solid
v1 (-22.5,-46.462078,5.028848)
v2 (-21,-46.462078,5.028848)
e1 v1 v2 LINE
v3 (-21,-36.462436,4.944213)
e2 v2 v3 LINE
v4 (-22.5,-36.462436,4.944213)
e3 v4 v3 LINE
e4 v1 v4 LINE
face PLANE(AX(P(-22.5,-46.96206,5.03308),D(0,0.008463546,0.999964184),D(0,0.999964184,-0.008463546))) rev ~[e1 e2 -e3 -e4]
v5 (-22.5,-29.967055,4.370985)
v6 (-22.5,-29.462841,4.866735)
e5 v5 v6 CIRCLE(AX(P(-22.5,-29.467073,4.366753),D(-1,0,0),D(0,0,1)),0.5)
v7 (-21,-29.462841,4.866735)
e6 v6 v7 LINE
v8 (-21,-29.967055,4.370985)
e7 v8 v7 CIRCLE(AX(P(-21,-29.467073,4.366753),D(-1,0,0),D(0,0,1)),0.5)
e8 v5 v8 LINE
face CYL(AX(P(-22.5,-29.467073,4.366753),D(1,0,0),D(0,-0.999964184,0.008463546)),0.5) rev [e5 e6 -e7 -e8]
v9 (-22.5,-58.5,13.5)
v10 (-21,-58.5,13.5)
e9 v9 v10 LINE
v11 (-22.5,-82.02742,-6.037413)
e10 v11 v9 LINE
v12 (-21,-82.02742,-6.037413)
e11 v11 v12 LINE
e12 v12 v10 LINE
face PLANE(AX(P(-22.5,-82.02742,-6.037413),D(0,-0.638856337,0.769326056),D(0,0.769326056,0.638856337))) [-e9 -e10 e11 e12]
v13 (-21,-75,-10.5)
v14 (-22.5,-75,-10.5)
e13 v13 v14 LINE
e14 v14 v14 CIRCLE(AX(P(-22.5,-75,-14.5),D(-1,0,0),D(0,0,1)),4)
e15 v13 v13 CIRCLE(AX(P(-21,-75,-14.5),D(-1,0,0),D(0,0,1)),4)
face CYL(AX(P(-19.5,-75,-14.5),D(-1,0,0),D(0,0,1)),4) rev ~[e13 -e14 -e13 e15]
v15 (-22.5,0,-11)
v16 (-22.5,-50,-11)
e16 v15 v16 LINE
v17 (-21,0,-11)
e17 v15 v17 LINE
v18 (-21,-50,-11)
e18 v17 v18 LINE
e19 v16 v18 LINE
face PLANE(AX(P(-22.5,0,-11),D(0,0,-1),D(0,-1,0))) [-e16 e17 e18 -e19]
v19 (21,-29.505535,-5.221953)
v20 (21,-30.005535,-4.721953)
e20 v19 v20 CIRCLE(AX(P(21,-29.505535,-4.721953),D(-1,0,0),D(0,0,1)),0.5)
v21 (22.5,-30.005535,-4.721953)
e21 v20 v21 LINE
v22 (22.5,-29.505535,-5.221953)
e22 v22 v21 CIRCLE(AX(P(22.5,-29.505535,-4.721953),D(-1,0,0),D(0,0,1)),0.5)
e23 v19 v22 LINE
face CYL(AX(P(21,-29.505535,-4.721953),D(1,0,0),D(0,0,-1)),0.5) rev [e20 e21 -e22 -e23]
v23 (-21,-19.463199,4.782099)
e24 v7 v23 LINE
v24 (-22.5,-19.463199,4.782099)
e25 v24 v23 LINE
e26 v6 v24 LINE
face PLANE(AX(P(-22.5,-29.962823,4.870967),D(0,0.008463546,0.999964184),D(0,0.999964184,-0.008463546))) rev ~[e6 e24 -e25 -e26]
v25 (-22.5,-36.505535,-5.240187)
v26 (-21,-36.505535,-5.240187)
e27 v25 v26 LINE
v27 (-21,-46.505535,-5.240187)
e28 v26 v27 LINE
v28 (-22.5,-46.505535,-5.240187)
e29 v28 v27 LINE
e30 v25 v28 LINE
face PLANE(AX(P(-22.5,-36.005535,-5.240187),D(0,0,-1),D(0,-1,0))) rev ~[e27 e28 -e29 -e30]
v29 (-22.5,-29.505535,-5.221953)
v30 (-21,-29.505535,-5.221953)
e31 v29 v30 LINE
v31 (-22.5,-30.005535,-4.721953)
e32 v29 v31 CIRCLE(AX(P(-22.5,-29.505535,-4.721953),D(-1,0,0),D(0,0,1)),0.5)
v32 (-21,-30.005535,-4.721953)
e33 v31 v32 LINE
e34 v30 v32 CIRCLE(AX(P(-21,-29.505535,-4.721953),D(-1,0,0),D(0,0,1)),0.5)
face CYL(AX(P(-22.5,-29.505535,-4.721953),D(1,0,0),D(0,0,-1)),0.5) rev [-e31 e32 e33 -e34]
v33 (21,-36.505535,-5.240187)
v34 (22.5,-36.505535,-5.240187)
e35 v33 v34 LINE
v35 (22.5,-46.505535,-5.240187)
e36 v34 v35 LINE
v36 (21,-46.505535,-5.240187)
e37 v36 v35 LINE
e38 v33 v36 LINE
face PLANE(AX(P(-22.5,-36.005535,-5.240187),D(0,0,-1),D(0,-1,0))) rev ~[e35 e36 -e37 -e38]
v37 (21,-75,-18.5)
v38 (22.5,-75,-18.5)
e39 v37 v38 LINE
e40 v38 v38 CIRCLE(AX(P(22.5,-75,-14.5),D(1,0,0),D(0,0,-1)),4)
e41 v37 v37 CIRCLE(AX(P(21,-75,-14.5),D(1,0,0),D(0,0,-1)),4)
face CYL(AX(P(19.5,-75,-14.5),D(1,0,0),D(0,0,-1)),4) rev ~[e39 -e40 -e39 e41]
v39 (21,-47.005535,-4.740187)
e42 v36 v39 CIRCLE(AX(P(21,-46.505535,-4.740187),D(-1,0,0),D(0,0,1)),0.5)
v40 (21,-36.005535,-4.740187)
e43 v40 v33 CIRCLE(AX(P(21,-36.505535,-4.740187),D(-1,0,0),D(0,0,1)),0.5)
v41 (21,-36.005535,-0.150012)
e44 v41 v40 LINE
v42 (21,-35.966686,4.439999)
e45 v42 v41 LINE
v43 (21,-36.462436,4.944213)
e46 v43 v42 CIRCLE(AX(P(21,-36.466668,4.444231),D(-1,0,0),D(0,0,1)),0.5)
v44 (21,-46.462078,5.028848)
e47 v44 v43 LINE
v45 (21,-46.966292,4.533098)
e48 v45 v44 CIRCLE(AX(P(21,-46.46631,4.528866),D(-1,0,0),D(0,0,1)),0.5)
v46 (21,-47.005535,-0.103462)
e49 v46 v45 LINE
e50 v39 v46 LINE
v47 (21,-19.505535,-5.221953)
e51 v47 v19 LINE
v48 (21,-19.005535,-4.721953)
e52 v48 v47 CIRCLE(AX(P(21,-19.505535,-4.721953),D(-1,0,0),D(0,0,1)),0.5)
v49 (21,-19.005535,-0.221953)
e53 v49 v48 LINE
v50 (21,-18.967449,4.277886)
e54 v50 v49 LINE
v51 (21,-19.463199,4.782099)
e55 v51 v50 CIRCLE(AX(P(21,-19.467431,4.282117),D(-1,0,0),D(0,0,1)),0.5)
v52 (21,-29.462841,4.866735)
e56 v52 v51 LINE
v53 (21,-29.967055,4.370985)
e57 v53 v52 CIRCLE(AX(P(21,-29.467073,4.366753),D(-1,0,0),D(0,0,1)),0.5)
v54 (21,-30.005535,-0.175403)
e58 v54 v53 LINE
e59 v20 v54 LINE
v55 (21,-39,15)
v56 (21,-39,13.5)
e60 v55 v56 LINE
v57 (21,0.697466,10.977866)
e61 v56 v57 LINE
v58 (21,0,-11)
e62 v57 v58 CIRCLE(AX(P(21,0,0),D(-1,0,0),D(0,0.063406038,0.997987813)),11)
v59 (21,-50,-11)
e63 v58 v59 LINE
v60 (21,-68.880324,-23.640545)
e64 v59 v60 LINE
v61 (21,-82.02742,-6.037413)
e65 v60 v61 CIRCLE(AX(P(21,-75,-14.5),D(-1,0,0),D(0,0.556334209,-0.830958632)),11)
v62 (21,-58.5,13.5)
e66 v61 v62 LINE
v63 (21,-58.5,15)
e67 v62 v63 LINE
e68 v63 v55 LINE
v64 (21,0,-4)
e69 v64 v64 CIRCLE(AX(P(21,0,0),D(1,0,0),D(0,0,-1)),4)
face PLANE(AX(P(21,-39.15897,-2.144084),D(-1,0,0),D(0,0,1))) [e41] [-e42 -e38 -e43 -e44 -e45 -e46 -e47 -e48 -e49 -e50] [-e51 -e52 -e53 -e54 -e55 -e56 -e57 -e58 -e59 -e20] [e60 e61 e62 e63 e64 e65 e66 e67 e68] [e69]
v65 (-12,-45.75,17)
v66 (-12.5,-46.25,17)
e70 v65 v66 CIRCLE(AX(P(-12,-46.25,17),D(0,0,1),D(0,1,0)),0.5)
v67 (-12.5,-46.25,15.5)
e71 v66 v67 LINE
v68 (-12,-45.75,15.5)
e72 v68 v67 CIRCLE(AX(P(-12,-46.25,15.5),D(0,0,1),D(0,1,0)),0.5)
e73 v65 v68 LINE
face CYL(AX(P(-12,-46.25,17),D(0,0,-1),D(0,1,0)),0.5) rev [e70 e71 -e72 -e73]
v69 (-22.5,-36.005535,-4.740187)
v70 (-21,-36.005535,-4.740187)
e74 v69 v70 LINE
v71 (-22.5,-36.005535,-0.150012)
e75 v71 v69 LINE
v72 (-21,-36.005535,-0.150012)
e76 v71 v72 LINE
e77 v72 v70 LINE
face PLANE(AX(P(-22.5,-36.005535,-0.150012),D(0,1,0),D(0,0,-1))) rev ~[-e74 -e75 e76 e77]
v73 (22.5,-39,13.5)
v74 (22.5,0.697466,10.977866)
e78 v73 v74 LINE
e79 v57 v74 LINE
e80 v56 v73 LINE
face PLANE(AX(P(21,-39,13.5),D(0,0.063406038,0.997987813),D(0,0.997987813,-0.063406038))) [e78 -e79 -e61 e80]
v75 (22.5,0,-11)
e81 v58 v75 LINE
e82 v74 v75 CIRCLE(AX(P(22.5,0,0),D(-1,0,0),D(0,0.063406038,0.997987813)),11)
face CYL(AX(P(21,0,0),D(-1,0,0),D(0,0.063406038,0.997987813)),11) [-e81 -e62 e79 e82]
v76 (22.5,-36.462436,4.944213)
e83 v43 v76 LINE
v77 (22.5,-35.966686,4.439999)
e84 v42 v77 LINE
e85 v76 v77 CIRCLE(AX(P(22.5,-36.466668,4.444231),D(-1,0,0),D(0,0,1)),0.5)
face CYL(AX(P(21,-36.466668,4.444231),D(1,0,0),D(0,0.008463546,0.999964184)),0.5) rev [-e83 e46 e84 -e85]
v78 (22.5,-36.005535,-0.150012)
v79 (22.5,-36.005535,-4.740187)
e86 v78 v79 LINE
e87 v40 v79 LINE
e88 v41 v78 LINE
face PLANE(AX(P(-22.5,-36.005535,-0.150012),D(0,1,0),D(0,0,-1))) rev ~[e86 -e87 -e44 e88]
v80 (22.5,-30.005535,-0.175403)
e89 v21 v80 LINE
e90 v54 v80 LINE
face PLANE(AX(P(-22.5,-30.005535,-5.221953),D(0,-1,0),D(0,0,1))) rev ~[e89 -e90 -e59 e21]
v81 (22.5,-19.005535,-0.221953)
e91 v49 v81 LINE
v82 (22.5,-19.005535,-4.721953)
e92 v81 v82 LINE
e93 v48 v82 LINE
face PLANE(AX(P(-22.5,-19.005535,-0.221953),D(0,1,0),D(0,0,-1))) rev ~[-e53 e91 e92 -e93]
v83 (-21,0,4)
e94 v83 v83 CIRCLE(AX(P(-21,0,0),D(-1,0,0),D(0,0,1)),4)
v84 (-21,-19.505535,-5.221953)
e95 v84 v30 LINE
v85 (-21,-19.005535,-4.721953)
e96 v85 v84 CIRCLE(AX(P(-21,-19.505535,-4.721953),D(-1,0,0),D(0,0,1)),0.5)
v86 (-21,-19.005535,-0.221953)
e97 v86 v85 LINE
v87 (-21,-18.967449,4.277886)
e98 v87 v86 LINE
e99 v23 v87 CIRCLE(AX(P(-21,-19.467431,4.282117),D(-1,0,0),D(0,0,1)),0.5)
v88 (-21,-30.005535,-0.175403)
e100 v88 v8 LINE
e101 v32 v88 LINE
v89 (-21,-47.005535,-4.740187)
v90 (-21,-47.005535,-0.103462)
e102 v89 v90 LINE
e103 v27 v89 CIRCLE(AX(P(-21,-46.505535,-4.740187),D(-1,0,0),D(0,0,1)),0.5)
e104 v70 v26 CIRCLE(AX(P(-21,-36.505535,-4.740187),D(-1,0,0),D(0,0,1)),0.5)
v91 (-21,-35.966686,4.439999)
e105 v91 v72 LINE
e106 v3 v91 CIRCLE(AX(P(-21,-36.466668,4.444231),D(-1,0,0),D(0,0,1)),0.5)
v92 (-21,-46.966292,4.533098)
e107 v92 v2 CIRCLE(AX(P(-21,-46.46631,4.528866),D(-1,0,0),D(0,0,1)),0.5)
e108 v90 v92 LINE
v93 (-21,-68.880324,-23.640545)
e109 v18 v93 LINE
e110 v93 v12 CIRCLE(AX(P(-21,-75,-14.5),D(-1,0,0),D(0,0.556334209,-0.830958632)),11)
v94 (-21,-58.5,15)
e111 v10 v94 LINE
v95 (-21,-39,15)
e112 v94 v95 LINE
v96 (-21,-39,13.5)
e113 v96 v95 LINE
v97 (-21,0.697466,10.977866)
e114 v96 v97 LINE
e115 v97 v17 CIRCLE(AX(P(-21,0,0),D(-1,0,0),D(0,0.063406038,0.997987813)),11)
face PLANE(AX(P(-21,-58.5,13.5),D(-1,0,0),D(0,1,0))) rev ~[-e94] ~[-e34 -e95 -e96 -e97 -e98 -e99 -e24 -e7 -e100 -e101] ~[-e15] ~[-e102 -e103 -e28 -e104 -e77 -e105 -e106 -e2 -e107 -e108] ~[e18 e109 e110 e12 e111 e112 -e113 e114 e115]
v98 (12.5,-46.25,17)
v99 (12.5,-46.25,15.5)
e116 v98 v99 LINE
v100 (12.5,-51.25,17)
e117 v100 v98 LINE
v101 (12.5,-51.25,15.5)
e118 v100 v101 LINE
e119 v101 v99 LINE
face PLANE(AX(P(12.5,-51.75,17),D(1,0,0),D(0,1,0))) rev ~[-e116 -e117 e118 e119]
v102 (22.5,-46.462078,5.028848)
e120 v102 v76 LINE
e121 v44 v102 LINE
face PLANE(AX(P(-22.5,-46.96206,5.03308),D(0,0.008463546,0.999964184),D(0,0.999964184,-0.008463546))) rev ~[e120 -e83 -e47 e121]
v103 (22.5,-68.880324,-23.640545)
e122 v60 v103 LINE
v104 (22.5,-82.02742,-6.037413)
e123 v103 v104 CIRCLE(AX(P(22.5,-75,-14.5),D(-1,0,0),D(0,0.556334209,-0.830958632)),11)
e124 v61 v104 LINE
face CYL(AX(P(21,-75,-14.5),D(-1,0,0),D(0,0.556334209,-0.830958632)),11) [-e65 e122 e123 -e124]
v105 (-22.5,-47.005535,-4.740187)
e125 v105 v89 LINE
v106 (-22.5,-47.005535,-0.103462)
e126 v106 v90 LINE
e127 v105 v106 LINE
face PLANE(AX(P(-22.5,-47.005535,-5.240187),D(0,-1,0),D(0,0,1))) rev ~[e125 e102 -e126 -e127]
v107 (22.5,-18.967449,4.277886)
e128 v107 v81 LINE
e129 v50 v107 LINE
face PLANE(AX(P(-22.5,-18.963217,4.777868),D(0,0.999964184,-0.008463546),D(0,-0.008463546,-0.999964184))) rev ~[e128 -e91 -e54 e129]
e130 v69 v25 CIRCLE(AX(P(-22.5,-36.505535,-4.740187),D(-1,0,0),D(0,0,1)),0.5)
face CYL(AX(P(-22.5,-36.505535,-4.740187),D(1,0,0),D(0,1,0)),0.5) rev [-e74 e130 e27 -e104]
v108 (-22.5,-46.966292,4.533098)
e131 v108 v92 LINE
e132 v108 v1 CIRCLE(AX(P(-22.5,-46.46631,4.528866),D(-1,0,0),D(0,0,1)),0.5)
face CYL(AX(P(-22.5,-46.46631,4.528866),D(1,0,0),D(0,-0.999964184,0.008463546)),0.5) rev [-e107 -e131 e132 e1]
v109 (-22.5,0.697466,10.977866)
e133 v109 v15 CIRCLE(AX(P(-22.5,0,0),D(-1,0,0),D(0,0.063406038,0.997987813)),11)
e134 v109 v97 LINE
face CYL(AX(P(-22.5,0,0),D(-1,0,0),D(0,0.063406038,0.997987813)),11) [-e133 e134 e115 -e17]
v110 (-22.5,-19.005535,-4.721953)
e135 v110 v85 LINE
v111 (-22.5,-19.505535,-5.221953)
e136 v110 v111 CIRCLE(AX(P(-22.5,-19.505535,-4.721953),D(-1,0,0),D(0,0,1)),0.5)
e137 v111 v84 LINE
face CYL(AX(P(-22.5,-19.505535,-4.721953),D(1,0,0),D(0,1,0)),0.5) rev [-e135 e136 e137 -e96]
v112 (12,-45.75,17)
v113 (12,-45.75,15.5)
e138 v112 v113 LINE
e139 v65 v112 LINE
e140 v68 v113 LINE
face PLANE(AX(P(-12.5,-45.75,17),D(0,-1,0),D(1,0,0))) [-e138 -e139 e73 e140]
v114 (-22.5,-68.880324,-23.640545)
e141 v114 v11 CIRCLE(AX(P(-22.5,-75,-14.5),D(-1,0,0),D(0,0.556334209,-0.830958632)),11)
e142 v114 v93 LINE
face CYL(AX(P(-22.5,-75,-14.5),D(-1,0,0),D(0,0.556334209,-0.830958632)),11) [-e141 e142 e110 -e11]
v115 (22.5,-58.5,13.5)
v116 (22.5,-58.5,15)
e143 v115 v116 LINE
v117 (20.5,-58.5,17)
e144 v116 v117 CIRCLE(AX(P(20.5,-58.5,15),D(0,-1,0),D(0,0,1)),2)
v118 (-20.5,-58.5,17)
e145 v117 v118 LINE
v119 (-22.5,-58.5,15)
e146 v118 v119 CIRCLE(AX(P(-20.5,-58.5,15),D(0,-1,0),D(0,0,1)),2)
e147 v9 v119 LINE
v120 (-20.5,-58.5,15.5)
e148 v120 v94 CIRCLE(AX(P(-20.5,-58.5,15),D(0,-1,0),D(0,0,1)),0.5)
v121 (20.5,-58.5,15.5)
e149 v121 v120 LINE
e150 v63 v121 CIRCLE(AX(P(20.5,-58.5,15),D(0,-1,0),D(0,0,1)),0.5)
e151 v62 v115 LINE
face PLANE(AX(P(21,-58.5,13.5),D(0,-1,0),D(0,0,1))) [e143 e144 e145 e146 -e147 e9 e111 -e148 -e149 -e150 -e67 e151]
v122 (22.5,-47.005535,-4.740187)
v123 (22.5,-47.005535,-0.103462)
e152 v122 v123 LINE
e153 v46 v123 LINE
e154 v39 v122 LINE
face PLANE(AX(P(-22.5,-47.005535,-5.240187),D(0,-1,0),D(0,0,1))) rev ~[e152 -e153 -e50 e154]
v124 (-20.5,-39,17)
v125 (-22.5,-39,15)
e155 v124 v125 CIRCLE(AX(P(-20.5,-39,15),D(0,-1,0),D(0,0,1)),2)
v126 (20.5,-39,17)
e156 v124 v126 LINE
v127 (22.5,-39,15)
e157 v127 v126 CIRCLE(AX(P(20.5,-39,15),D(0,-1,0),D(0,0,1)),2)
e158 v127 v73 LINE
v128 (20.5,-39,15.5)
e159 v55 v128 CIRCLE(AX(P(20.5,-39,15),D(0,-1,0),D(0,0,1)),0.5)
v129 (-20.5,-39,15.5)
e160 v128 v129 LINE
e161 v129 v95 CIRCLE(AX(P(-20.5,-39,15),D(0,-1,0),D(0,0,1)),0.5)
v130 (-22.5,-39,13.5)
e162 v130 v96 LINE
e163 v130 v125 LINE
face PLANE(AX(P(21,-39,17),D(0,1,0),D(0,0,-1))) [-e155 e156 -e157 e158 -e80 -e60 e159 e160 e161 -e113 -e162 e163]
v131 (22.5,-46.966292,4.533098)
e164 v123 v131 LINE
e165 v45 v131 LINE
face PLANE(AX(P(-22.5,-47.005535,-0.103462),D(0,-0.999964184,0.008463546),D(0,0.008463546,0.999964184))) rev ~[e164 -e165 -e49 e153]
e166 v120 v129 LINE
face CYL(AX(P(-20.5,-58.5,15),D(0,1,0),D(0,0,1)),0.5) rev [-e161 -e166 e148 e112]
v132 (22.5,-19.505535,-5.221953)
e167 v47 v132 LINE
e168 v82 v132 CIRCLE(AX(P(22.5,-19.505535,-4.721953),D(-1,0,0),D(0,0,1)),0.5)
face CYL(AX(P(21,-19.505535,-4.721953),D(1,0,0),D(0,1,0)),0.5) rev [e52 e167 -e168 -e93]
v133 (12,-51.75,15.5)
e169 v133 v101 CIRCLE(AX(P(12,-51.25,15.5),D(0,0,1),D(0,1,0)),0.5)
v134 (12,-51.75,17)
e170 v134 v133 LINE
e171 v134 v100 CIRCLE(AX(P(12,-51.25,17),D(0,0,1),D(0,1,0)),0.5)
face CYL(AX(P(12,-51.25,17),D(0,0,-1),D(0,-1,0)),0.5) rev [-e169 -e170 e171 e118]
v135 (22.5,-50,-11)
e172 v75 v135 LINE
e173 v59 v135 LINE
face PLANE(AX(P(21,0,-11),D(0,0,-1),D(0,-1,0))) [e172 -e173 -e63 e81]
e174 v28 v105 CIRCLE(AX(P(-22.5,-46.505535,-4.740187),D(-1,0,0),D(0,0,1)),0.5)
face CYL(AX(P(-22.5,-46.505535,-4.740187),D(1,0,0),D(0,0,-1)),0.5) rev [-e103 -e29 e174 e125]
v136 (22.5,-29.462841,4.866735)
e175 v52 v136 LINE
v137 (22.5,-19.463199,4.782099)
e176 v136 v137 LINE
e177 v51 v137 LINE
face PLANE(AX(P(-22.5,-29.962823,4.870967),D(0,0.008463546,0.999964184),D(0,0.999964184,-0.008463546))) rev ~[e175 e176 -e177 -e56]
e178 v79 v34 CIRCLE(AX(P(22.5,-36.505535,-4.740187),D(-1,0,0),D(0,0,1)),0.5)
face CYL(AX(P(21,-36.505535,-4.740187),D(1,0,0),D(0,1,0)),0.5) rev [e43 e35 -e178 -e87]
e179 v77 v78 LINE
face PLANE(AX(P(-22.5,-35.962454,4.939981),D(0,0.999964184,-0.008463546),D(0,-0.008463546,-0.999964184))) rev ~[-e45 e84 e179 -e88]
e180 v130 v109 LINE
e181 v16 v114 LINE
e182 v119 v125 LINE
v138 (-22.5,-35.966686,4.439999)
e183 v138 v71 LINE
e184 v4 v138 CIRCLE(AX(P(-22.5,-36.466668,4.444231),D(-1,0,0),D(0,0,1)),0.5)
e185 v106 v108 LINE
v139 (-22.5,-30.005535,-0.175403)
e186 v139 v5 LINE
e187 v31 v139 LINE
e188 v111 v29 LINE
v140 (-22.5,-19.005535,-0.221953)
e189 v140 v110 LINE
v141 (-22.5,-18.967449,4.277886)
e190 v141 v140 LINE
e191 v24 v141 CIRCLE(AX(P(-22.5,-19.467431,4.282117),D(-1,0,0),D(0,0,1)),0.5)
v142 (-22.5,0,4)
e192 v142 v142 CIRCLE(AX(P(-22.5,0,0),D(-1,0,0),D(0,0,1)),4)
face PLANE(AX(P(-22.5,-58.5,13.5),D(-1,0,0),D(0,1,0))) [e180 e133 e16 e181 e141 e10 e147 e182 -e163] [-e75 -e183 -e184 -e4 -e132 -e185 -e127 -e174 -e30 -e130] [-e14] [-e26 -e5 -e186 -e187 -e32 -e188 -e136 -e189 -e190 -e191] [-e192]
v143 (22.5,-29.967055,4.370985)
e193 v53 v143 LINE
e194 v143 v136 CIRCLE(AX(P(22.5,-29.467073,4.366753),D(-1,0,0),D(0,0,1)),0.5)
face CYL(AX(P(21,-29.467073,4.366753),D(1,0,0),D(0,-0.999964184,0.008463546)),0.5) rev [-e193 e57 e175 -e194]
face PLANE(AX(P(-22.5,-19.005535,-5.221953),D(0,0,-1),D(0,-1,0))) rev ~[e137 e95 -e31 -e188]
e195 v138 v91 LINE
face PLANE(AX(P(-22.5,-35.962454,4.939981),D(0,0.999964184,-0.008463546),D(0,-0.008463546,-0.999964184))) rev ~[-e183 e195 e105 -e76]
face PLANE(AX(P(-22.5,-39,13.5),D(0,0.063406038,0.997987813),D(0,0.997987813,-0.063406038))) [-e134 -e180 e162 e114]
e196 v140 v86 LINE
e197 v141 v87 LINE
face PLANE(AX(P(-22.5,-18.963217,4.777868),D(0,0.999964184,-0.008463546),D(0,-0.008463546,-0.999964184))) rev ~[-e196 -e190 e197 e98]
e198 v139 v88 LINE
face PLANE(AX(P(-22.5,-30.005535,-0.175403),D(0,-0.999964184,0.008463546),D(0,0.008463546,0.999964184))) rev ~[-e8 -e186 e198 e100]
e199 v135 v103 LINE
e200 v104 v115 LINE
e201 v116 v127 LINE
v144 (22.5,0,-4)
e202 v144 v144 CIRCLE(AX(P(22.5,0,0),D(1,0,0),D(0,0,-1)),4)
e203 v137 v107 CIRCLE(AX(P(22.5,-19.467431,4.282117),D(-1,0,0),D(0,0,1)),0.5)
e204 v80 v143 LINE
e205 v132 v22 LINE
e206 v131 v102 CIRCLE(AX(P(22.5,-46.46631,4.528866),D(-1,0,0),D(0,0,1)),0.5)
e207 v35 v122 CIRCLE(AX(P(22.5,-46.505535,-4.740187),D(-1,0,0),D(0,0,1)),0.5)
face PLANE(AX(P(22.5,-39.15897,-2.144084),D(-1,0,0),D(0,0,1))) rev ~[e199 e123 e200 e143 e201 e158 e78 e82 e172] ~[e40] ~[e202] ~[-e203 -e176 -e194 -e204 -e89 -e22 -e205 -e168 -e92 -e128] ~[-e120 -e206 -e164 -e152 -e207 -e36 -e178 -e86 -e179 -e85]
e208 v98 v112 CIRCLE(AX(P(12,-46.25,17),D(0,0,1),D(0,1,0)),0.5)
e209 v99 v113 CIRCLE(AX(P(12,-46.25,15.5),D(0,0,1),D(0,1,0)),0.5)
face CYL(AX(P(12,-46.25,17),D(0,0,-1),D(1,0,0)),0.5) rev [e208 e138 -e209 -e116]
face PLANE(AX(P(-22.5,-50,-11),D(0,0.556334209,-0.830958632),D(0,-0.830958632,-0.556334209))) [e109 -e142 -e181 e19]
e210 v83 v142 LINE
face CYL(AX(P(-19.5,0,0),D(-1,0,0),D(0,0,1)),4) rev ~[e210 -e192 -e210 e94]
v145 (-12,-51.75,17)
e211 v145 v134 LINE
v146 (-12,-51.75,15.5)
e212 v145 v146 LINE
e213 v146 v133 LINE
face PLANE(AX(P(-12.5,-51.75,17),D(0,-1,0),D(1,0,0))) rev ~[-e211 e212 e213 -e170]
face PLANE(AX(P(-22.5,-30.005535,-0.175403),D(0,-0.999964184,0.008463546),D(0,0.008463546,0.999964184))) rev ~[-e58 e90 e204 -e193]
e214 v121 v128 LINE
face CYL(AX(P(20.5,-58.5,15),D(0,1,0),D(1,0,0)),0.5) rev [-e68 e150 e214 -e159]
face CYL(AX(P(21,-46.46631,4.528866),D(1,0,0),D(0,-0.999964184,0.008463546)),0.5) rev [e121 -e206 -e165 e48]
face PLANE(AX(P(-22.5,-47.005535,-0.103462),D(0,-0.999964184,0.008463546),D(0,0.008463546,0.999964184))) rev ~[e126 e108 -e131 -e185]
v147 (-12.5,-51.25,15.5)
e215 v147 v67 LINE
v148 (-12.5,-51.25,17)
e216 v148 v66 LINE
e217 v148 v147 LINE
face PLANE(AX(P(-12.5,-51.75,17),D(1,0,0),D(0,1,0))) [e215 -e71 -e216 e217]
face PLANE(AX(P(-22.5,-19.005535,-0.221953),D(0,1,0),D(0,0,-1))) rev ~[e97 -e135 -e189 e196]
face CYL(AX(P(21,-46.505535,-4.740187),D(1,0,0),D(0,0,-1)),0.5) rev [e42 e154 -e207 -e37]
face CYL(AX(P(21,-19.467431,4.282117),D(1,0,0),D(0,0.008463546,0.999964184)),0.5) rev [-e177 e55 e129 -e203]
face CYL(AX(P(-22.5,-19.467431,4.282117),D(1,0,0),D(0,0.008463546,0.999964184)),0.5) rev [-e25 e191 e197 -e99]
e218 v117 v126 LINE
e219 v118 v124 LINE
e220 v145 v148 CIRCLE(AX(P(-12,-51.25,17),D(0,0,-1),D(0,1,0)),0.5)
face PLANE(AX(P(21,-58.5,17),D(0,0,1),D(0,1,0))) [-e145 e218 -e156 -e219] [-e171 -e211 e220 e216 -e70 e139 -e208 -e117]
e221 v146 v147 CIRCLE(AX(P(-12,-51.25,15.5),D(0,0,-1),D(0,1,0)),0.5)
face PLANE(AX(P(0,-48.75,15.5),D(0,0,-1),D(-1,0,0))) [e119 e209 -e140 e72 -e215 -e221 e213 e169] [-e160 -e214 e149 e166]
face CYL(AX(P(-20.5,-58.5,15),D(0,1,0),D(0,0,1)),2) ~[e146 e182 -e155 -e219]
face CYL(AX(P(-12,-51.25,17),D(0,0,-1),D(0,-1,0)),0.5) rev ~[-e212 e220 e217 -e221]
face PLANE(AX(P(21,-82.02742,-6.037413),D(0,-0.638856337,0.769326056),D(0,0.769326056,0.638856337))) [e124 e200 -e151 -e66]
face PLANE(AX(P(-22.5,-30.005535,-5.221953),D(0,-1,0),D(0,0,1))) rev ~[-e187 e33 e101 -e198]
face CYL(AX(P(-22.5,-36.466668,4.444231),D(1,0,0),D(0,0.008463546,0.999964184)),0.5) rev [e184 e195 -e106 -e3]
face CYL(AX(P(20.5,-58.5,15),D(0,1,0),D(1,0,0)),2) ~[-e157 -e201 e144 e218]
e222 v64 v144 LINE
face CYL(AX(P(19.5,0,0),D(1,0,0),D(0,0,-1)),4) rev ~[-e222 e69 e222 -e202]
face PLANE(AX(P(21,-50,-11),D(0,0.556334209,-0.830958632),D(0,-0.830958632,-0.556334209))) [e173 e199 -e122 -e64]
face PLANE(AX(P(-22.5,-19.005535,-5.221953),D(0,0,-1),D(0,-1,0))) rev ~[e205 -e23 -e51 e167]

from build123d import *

# Parameters (mm, degrees)
BOSS_EXTRUDE1_DEPTH          = 1.5
SKETCH2_W                    = 43.5
SKETCH2_H                    = 19.5
BOSS_EXTRUDE2_DEPTH          = 3.5
SKETCH3_W                    = 42
SKETCH3_H                    = 19.5
CUT_EXTRUDE1_DEPTH           = 2
BOSS_EXTRUDE3_DEPTH          = 1.5
F_8_0_8_DIAMETER_HOLE1_D     = 8
F_8_0_8_DIAMETER_HOLE1_DEPTH = 1.5
F_8_0_8_DIAMETER_HOLE2_D     = 8
F_8_0_8_DIAMETER_HOLE2_DEPTH = 1.5
FILLET1_R                    = 0.5
FILLET2_R                    = 2
SKETCH9_W                    = 25
SKETCH9_H                    = 6
CUT_EXTRUDE2_DEPTH           = 1.5
FILLET3_R                    = 0.5
CUT_EXTRUDE3_DEPTH           = 45
FILLET4_R                    = 0.5


with BuildPart() as part:
    # Sketch1 → Boss-Extrude1 (new body)
    with BuildSketch(Plane(origin=(-22.5, 0, 0), x_dir=(0, -1, 0), z_dir=(-1, 0, 0))):
        with BuildLine():
            Line((82.02741971, -6.037413385), (58.5, 13.5))
            Line((58.5, 13.5), (39, 13.5))
            Line((39, 13.5), (-0.697466415, 10.97786594))
            ThreePointArc((-0.697466415, 10.97786594), (-10.994465093, -0.348908769), (0, -11))
            Line((0, -11), (50, -11))
            Line((50, -11), (68.880323706, -23.640544954))
            ThreePointArc((68.880323706, -23.640544954), (83.813260452, -21.082282295), (82.02741971, -6.037413385))
        make_face()
    extrude(amount=-BOSS_EXTRUDE1_DEPTH)

    # Sketch2 → Boss-Extrude2 (add)
    with BuildSketch(Plane.XY.offset(13.5)):
        with Locations((-0.75, -48.75)):
            Rectangle(SKETCH2_W, SKETCH2_H)
    extrude(amount=BOSS_EXTRUDE2_DEPTH)

    # Sketch3 → Cut-Extrude1 (cut)
    with BuildSketch(Plane(origin=(0, 0, 13.5), x_dir=(-1, 0, 0), z_dir=(0, 0, -1))):
        with Locations((0, -48.75)):
            Rectangle(SKETCH3_W, SKETCH3_H)
    extrude(amount=-CUT_EXTRUDE1_DEPTH, mode=Mode.SUBTRACT)

    # Sketch4 → Boss-Extrude3 (add)
    with BuildSketch(Plane(origin=(21, 0, 0), x_dir=(0, 0, -1), z_dir=(1, 0, 0))):
        with BuildLine():
            Line((11, 0), (11, -50))
            Line((11, -50), (23.640544954, -68.880323706))
            ThreePointArc((23.640544954, -68.880323706), (21.082282295, -83.813260452), (6.037413385, -82.02741971))
            Line((6.037413385, -82.02741971), (-13.5, -58.5))
            Line((-13.5, -58.5), (-17, -58.5))
            Line((-17, -58.5), (-17, -39))
            Line((-17, -39), (-13.5, -39))
            Line((-13.5, -39), (-10.97786594, 0.697466415))
            ThreePointArc((-10.97786594, 0.697466415), (0.348908769, 10.994465093), (11, 0))
        make_face()
    extrude(amount=BOSS_EXTRUDE3_DEPTH)

    # Ø8.0 (8) Diameter Hole1
    with Locations(Plane.ZY.offset(-21)):
        with Locations((-14.5, -75), (0, 0)):
            Hole(F_8_0_8_DIAMETER_HOLE1_D / 2, depth=F_8_0_8_DIAMETER_HOLE1_DEPTH)

    # Ø8.0 (8) Diameter Hole2
    with Locations(Plane(origin=(-21, 0, 0), x_dir=(0, 0, -1), z_dir=(1, 0, 0))):
        with Locations((14.5, -75), (0, 0)):
            Hole(F_8_0_8_DIAMETER_HOLE2_D / 2, depth=F_8_0_8_DIAMETER_HOLE2_DEPTH)

    # Fillet1
    fillet1_edges = [part.edges().sort_by_distance(p)[0] for p in [
        (21, -48.75, 15.5),
        (-21, -48.75, 15.5),
    ]]
    fillet(fillet1_edges, radius=FILLET1_R)

    # Fillet2
    fillet2_edges = [part.edges().sort_by_distance(p)[0] for p in [
        (-22.5, -48.75, 17),
        (22.5, -48.75, 17),
    ]]
    fillet(fillet2_edges, radius=FILLET2_R)

    # Sketch9 → Cut-Extrude2 (cut)
    with BuildSketch(Plane.XY.offset(17)):
        with Locations((0, -48.75)):
            Rectangle(SKETCH9_W, SKETCH9_H)
    extrude(amount=-CUT_EXTRUDE2_DEPTH, mode=Mode.SUBTRACT)

    # Fillet3
    fillet3_edges = [part.edges().sort_by_distance(p)[0] for p in [
        (12.5, -51.75, 16.25),
        (-12.5, -51.75, 16.25),
        (-12.5, -45.75, 16.25),
        (12.5, -45.75, 16.25),
    ]]
    fillet(fillet3_edges, radius=FILLET3_R)

    # Sketch11 → Cut-Extrude3 (cut)
    with BuildSketch(Plane.ZY.offset(22.5)):
        Polygon((-0.103461549, -47.005534907), (5.033080081, -46.962059996), (4.939981079, -35.962453976), (-0.150011884, -36.005534907), (-5.240187158, -36.005534907), (-5.240187158, -47.005534907), align=None)
        Polygon((-0.22195331, -19.005534907), (-5.22195331, -19.005534907), (-5.22195331, -30.005534907), (-0.175402975, -30.005534907), (4.87096661, -29.962823198), (4.777867607, -18.963217179), align=None)
    extrude(amount=-CUT_EXTRUDE3_DEPTH, mode=Mode.SUBTRACT)

    # Fillet4
    fillet4_edges = [part.edges().sort_by_distance(p)[0] for p in [
        (-21.75, -36.005534907, -0.150011884),
        (-21.75, -35.962453976, 4.939981079),
        (-21.75, -46.962059996, 5.033080081),
        (-21.75, -47.005534907, -0.103461549),
        (-21.75, -47.005534907, -5.240187158),
        (-21.75, -36.005534907, -5.240187158),
        (21.75, -36.005534907, -0.150011884),
        (21.75, -35.962453976, 4.939981079),
        (21.75, -46.962059996, 5.033080081),
        (21.75, -47.005534907, -0.103461549),
        (21.75, -47.005534907, -5.240187158),
        (21.75, -36.005534907, -5.240187158),
        (-21.75, -19.005534907, -0.22195331),
        (-21.75, -18.963217179, 4.777867607),
        (-21.75, -29.962823198, 4.87096661),
        (-21.75, -30.005534907, -0.175402975),
        (-21.75, -30.005534907, -5.22195331),
        (-21.75, -19.005534907, -5.22195331),
        (21.75, -19.005534907, -0.22195331),
        (21.75, -18.963217179, 4.777867607),
        (21.75, -29.962823198, 4.87096661),
        (21.75, -30.005534907, -0.175402975),
        (21.75, -30.005534907, -5.22195331),
        (21.75, -19.005534907, -5.22195331),
    ]]
    fillet(fillet4_edges, radius=FILLET4_R)


solid = part.part
